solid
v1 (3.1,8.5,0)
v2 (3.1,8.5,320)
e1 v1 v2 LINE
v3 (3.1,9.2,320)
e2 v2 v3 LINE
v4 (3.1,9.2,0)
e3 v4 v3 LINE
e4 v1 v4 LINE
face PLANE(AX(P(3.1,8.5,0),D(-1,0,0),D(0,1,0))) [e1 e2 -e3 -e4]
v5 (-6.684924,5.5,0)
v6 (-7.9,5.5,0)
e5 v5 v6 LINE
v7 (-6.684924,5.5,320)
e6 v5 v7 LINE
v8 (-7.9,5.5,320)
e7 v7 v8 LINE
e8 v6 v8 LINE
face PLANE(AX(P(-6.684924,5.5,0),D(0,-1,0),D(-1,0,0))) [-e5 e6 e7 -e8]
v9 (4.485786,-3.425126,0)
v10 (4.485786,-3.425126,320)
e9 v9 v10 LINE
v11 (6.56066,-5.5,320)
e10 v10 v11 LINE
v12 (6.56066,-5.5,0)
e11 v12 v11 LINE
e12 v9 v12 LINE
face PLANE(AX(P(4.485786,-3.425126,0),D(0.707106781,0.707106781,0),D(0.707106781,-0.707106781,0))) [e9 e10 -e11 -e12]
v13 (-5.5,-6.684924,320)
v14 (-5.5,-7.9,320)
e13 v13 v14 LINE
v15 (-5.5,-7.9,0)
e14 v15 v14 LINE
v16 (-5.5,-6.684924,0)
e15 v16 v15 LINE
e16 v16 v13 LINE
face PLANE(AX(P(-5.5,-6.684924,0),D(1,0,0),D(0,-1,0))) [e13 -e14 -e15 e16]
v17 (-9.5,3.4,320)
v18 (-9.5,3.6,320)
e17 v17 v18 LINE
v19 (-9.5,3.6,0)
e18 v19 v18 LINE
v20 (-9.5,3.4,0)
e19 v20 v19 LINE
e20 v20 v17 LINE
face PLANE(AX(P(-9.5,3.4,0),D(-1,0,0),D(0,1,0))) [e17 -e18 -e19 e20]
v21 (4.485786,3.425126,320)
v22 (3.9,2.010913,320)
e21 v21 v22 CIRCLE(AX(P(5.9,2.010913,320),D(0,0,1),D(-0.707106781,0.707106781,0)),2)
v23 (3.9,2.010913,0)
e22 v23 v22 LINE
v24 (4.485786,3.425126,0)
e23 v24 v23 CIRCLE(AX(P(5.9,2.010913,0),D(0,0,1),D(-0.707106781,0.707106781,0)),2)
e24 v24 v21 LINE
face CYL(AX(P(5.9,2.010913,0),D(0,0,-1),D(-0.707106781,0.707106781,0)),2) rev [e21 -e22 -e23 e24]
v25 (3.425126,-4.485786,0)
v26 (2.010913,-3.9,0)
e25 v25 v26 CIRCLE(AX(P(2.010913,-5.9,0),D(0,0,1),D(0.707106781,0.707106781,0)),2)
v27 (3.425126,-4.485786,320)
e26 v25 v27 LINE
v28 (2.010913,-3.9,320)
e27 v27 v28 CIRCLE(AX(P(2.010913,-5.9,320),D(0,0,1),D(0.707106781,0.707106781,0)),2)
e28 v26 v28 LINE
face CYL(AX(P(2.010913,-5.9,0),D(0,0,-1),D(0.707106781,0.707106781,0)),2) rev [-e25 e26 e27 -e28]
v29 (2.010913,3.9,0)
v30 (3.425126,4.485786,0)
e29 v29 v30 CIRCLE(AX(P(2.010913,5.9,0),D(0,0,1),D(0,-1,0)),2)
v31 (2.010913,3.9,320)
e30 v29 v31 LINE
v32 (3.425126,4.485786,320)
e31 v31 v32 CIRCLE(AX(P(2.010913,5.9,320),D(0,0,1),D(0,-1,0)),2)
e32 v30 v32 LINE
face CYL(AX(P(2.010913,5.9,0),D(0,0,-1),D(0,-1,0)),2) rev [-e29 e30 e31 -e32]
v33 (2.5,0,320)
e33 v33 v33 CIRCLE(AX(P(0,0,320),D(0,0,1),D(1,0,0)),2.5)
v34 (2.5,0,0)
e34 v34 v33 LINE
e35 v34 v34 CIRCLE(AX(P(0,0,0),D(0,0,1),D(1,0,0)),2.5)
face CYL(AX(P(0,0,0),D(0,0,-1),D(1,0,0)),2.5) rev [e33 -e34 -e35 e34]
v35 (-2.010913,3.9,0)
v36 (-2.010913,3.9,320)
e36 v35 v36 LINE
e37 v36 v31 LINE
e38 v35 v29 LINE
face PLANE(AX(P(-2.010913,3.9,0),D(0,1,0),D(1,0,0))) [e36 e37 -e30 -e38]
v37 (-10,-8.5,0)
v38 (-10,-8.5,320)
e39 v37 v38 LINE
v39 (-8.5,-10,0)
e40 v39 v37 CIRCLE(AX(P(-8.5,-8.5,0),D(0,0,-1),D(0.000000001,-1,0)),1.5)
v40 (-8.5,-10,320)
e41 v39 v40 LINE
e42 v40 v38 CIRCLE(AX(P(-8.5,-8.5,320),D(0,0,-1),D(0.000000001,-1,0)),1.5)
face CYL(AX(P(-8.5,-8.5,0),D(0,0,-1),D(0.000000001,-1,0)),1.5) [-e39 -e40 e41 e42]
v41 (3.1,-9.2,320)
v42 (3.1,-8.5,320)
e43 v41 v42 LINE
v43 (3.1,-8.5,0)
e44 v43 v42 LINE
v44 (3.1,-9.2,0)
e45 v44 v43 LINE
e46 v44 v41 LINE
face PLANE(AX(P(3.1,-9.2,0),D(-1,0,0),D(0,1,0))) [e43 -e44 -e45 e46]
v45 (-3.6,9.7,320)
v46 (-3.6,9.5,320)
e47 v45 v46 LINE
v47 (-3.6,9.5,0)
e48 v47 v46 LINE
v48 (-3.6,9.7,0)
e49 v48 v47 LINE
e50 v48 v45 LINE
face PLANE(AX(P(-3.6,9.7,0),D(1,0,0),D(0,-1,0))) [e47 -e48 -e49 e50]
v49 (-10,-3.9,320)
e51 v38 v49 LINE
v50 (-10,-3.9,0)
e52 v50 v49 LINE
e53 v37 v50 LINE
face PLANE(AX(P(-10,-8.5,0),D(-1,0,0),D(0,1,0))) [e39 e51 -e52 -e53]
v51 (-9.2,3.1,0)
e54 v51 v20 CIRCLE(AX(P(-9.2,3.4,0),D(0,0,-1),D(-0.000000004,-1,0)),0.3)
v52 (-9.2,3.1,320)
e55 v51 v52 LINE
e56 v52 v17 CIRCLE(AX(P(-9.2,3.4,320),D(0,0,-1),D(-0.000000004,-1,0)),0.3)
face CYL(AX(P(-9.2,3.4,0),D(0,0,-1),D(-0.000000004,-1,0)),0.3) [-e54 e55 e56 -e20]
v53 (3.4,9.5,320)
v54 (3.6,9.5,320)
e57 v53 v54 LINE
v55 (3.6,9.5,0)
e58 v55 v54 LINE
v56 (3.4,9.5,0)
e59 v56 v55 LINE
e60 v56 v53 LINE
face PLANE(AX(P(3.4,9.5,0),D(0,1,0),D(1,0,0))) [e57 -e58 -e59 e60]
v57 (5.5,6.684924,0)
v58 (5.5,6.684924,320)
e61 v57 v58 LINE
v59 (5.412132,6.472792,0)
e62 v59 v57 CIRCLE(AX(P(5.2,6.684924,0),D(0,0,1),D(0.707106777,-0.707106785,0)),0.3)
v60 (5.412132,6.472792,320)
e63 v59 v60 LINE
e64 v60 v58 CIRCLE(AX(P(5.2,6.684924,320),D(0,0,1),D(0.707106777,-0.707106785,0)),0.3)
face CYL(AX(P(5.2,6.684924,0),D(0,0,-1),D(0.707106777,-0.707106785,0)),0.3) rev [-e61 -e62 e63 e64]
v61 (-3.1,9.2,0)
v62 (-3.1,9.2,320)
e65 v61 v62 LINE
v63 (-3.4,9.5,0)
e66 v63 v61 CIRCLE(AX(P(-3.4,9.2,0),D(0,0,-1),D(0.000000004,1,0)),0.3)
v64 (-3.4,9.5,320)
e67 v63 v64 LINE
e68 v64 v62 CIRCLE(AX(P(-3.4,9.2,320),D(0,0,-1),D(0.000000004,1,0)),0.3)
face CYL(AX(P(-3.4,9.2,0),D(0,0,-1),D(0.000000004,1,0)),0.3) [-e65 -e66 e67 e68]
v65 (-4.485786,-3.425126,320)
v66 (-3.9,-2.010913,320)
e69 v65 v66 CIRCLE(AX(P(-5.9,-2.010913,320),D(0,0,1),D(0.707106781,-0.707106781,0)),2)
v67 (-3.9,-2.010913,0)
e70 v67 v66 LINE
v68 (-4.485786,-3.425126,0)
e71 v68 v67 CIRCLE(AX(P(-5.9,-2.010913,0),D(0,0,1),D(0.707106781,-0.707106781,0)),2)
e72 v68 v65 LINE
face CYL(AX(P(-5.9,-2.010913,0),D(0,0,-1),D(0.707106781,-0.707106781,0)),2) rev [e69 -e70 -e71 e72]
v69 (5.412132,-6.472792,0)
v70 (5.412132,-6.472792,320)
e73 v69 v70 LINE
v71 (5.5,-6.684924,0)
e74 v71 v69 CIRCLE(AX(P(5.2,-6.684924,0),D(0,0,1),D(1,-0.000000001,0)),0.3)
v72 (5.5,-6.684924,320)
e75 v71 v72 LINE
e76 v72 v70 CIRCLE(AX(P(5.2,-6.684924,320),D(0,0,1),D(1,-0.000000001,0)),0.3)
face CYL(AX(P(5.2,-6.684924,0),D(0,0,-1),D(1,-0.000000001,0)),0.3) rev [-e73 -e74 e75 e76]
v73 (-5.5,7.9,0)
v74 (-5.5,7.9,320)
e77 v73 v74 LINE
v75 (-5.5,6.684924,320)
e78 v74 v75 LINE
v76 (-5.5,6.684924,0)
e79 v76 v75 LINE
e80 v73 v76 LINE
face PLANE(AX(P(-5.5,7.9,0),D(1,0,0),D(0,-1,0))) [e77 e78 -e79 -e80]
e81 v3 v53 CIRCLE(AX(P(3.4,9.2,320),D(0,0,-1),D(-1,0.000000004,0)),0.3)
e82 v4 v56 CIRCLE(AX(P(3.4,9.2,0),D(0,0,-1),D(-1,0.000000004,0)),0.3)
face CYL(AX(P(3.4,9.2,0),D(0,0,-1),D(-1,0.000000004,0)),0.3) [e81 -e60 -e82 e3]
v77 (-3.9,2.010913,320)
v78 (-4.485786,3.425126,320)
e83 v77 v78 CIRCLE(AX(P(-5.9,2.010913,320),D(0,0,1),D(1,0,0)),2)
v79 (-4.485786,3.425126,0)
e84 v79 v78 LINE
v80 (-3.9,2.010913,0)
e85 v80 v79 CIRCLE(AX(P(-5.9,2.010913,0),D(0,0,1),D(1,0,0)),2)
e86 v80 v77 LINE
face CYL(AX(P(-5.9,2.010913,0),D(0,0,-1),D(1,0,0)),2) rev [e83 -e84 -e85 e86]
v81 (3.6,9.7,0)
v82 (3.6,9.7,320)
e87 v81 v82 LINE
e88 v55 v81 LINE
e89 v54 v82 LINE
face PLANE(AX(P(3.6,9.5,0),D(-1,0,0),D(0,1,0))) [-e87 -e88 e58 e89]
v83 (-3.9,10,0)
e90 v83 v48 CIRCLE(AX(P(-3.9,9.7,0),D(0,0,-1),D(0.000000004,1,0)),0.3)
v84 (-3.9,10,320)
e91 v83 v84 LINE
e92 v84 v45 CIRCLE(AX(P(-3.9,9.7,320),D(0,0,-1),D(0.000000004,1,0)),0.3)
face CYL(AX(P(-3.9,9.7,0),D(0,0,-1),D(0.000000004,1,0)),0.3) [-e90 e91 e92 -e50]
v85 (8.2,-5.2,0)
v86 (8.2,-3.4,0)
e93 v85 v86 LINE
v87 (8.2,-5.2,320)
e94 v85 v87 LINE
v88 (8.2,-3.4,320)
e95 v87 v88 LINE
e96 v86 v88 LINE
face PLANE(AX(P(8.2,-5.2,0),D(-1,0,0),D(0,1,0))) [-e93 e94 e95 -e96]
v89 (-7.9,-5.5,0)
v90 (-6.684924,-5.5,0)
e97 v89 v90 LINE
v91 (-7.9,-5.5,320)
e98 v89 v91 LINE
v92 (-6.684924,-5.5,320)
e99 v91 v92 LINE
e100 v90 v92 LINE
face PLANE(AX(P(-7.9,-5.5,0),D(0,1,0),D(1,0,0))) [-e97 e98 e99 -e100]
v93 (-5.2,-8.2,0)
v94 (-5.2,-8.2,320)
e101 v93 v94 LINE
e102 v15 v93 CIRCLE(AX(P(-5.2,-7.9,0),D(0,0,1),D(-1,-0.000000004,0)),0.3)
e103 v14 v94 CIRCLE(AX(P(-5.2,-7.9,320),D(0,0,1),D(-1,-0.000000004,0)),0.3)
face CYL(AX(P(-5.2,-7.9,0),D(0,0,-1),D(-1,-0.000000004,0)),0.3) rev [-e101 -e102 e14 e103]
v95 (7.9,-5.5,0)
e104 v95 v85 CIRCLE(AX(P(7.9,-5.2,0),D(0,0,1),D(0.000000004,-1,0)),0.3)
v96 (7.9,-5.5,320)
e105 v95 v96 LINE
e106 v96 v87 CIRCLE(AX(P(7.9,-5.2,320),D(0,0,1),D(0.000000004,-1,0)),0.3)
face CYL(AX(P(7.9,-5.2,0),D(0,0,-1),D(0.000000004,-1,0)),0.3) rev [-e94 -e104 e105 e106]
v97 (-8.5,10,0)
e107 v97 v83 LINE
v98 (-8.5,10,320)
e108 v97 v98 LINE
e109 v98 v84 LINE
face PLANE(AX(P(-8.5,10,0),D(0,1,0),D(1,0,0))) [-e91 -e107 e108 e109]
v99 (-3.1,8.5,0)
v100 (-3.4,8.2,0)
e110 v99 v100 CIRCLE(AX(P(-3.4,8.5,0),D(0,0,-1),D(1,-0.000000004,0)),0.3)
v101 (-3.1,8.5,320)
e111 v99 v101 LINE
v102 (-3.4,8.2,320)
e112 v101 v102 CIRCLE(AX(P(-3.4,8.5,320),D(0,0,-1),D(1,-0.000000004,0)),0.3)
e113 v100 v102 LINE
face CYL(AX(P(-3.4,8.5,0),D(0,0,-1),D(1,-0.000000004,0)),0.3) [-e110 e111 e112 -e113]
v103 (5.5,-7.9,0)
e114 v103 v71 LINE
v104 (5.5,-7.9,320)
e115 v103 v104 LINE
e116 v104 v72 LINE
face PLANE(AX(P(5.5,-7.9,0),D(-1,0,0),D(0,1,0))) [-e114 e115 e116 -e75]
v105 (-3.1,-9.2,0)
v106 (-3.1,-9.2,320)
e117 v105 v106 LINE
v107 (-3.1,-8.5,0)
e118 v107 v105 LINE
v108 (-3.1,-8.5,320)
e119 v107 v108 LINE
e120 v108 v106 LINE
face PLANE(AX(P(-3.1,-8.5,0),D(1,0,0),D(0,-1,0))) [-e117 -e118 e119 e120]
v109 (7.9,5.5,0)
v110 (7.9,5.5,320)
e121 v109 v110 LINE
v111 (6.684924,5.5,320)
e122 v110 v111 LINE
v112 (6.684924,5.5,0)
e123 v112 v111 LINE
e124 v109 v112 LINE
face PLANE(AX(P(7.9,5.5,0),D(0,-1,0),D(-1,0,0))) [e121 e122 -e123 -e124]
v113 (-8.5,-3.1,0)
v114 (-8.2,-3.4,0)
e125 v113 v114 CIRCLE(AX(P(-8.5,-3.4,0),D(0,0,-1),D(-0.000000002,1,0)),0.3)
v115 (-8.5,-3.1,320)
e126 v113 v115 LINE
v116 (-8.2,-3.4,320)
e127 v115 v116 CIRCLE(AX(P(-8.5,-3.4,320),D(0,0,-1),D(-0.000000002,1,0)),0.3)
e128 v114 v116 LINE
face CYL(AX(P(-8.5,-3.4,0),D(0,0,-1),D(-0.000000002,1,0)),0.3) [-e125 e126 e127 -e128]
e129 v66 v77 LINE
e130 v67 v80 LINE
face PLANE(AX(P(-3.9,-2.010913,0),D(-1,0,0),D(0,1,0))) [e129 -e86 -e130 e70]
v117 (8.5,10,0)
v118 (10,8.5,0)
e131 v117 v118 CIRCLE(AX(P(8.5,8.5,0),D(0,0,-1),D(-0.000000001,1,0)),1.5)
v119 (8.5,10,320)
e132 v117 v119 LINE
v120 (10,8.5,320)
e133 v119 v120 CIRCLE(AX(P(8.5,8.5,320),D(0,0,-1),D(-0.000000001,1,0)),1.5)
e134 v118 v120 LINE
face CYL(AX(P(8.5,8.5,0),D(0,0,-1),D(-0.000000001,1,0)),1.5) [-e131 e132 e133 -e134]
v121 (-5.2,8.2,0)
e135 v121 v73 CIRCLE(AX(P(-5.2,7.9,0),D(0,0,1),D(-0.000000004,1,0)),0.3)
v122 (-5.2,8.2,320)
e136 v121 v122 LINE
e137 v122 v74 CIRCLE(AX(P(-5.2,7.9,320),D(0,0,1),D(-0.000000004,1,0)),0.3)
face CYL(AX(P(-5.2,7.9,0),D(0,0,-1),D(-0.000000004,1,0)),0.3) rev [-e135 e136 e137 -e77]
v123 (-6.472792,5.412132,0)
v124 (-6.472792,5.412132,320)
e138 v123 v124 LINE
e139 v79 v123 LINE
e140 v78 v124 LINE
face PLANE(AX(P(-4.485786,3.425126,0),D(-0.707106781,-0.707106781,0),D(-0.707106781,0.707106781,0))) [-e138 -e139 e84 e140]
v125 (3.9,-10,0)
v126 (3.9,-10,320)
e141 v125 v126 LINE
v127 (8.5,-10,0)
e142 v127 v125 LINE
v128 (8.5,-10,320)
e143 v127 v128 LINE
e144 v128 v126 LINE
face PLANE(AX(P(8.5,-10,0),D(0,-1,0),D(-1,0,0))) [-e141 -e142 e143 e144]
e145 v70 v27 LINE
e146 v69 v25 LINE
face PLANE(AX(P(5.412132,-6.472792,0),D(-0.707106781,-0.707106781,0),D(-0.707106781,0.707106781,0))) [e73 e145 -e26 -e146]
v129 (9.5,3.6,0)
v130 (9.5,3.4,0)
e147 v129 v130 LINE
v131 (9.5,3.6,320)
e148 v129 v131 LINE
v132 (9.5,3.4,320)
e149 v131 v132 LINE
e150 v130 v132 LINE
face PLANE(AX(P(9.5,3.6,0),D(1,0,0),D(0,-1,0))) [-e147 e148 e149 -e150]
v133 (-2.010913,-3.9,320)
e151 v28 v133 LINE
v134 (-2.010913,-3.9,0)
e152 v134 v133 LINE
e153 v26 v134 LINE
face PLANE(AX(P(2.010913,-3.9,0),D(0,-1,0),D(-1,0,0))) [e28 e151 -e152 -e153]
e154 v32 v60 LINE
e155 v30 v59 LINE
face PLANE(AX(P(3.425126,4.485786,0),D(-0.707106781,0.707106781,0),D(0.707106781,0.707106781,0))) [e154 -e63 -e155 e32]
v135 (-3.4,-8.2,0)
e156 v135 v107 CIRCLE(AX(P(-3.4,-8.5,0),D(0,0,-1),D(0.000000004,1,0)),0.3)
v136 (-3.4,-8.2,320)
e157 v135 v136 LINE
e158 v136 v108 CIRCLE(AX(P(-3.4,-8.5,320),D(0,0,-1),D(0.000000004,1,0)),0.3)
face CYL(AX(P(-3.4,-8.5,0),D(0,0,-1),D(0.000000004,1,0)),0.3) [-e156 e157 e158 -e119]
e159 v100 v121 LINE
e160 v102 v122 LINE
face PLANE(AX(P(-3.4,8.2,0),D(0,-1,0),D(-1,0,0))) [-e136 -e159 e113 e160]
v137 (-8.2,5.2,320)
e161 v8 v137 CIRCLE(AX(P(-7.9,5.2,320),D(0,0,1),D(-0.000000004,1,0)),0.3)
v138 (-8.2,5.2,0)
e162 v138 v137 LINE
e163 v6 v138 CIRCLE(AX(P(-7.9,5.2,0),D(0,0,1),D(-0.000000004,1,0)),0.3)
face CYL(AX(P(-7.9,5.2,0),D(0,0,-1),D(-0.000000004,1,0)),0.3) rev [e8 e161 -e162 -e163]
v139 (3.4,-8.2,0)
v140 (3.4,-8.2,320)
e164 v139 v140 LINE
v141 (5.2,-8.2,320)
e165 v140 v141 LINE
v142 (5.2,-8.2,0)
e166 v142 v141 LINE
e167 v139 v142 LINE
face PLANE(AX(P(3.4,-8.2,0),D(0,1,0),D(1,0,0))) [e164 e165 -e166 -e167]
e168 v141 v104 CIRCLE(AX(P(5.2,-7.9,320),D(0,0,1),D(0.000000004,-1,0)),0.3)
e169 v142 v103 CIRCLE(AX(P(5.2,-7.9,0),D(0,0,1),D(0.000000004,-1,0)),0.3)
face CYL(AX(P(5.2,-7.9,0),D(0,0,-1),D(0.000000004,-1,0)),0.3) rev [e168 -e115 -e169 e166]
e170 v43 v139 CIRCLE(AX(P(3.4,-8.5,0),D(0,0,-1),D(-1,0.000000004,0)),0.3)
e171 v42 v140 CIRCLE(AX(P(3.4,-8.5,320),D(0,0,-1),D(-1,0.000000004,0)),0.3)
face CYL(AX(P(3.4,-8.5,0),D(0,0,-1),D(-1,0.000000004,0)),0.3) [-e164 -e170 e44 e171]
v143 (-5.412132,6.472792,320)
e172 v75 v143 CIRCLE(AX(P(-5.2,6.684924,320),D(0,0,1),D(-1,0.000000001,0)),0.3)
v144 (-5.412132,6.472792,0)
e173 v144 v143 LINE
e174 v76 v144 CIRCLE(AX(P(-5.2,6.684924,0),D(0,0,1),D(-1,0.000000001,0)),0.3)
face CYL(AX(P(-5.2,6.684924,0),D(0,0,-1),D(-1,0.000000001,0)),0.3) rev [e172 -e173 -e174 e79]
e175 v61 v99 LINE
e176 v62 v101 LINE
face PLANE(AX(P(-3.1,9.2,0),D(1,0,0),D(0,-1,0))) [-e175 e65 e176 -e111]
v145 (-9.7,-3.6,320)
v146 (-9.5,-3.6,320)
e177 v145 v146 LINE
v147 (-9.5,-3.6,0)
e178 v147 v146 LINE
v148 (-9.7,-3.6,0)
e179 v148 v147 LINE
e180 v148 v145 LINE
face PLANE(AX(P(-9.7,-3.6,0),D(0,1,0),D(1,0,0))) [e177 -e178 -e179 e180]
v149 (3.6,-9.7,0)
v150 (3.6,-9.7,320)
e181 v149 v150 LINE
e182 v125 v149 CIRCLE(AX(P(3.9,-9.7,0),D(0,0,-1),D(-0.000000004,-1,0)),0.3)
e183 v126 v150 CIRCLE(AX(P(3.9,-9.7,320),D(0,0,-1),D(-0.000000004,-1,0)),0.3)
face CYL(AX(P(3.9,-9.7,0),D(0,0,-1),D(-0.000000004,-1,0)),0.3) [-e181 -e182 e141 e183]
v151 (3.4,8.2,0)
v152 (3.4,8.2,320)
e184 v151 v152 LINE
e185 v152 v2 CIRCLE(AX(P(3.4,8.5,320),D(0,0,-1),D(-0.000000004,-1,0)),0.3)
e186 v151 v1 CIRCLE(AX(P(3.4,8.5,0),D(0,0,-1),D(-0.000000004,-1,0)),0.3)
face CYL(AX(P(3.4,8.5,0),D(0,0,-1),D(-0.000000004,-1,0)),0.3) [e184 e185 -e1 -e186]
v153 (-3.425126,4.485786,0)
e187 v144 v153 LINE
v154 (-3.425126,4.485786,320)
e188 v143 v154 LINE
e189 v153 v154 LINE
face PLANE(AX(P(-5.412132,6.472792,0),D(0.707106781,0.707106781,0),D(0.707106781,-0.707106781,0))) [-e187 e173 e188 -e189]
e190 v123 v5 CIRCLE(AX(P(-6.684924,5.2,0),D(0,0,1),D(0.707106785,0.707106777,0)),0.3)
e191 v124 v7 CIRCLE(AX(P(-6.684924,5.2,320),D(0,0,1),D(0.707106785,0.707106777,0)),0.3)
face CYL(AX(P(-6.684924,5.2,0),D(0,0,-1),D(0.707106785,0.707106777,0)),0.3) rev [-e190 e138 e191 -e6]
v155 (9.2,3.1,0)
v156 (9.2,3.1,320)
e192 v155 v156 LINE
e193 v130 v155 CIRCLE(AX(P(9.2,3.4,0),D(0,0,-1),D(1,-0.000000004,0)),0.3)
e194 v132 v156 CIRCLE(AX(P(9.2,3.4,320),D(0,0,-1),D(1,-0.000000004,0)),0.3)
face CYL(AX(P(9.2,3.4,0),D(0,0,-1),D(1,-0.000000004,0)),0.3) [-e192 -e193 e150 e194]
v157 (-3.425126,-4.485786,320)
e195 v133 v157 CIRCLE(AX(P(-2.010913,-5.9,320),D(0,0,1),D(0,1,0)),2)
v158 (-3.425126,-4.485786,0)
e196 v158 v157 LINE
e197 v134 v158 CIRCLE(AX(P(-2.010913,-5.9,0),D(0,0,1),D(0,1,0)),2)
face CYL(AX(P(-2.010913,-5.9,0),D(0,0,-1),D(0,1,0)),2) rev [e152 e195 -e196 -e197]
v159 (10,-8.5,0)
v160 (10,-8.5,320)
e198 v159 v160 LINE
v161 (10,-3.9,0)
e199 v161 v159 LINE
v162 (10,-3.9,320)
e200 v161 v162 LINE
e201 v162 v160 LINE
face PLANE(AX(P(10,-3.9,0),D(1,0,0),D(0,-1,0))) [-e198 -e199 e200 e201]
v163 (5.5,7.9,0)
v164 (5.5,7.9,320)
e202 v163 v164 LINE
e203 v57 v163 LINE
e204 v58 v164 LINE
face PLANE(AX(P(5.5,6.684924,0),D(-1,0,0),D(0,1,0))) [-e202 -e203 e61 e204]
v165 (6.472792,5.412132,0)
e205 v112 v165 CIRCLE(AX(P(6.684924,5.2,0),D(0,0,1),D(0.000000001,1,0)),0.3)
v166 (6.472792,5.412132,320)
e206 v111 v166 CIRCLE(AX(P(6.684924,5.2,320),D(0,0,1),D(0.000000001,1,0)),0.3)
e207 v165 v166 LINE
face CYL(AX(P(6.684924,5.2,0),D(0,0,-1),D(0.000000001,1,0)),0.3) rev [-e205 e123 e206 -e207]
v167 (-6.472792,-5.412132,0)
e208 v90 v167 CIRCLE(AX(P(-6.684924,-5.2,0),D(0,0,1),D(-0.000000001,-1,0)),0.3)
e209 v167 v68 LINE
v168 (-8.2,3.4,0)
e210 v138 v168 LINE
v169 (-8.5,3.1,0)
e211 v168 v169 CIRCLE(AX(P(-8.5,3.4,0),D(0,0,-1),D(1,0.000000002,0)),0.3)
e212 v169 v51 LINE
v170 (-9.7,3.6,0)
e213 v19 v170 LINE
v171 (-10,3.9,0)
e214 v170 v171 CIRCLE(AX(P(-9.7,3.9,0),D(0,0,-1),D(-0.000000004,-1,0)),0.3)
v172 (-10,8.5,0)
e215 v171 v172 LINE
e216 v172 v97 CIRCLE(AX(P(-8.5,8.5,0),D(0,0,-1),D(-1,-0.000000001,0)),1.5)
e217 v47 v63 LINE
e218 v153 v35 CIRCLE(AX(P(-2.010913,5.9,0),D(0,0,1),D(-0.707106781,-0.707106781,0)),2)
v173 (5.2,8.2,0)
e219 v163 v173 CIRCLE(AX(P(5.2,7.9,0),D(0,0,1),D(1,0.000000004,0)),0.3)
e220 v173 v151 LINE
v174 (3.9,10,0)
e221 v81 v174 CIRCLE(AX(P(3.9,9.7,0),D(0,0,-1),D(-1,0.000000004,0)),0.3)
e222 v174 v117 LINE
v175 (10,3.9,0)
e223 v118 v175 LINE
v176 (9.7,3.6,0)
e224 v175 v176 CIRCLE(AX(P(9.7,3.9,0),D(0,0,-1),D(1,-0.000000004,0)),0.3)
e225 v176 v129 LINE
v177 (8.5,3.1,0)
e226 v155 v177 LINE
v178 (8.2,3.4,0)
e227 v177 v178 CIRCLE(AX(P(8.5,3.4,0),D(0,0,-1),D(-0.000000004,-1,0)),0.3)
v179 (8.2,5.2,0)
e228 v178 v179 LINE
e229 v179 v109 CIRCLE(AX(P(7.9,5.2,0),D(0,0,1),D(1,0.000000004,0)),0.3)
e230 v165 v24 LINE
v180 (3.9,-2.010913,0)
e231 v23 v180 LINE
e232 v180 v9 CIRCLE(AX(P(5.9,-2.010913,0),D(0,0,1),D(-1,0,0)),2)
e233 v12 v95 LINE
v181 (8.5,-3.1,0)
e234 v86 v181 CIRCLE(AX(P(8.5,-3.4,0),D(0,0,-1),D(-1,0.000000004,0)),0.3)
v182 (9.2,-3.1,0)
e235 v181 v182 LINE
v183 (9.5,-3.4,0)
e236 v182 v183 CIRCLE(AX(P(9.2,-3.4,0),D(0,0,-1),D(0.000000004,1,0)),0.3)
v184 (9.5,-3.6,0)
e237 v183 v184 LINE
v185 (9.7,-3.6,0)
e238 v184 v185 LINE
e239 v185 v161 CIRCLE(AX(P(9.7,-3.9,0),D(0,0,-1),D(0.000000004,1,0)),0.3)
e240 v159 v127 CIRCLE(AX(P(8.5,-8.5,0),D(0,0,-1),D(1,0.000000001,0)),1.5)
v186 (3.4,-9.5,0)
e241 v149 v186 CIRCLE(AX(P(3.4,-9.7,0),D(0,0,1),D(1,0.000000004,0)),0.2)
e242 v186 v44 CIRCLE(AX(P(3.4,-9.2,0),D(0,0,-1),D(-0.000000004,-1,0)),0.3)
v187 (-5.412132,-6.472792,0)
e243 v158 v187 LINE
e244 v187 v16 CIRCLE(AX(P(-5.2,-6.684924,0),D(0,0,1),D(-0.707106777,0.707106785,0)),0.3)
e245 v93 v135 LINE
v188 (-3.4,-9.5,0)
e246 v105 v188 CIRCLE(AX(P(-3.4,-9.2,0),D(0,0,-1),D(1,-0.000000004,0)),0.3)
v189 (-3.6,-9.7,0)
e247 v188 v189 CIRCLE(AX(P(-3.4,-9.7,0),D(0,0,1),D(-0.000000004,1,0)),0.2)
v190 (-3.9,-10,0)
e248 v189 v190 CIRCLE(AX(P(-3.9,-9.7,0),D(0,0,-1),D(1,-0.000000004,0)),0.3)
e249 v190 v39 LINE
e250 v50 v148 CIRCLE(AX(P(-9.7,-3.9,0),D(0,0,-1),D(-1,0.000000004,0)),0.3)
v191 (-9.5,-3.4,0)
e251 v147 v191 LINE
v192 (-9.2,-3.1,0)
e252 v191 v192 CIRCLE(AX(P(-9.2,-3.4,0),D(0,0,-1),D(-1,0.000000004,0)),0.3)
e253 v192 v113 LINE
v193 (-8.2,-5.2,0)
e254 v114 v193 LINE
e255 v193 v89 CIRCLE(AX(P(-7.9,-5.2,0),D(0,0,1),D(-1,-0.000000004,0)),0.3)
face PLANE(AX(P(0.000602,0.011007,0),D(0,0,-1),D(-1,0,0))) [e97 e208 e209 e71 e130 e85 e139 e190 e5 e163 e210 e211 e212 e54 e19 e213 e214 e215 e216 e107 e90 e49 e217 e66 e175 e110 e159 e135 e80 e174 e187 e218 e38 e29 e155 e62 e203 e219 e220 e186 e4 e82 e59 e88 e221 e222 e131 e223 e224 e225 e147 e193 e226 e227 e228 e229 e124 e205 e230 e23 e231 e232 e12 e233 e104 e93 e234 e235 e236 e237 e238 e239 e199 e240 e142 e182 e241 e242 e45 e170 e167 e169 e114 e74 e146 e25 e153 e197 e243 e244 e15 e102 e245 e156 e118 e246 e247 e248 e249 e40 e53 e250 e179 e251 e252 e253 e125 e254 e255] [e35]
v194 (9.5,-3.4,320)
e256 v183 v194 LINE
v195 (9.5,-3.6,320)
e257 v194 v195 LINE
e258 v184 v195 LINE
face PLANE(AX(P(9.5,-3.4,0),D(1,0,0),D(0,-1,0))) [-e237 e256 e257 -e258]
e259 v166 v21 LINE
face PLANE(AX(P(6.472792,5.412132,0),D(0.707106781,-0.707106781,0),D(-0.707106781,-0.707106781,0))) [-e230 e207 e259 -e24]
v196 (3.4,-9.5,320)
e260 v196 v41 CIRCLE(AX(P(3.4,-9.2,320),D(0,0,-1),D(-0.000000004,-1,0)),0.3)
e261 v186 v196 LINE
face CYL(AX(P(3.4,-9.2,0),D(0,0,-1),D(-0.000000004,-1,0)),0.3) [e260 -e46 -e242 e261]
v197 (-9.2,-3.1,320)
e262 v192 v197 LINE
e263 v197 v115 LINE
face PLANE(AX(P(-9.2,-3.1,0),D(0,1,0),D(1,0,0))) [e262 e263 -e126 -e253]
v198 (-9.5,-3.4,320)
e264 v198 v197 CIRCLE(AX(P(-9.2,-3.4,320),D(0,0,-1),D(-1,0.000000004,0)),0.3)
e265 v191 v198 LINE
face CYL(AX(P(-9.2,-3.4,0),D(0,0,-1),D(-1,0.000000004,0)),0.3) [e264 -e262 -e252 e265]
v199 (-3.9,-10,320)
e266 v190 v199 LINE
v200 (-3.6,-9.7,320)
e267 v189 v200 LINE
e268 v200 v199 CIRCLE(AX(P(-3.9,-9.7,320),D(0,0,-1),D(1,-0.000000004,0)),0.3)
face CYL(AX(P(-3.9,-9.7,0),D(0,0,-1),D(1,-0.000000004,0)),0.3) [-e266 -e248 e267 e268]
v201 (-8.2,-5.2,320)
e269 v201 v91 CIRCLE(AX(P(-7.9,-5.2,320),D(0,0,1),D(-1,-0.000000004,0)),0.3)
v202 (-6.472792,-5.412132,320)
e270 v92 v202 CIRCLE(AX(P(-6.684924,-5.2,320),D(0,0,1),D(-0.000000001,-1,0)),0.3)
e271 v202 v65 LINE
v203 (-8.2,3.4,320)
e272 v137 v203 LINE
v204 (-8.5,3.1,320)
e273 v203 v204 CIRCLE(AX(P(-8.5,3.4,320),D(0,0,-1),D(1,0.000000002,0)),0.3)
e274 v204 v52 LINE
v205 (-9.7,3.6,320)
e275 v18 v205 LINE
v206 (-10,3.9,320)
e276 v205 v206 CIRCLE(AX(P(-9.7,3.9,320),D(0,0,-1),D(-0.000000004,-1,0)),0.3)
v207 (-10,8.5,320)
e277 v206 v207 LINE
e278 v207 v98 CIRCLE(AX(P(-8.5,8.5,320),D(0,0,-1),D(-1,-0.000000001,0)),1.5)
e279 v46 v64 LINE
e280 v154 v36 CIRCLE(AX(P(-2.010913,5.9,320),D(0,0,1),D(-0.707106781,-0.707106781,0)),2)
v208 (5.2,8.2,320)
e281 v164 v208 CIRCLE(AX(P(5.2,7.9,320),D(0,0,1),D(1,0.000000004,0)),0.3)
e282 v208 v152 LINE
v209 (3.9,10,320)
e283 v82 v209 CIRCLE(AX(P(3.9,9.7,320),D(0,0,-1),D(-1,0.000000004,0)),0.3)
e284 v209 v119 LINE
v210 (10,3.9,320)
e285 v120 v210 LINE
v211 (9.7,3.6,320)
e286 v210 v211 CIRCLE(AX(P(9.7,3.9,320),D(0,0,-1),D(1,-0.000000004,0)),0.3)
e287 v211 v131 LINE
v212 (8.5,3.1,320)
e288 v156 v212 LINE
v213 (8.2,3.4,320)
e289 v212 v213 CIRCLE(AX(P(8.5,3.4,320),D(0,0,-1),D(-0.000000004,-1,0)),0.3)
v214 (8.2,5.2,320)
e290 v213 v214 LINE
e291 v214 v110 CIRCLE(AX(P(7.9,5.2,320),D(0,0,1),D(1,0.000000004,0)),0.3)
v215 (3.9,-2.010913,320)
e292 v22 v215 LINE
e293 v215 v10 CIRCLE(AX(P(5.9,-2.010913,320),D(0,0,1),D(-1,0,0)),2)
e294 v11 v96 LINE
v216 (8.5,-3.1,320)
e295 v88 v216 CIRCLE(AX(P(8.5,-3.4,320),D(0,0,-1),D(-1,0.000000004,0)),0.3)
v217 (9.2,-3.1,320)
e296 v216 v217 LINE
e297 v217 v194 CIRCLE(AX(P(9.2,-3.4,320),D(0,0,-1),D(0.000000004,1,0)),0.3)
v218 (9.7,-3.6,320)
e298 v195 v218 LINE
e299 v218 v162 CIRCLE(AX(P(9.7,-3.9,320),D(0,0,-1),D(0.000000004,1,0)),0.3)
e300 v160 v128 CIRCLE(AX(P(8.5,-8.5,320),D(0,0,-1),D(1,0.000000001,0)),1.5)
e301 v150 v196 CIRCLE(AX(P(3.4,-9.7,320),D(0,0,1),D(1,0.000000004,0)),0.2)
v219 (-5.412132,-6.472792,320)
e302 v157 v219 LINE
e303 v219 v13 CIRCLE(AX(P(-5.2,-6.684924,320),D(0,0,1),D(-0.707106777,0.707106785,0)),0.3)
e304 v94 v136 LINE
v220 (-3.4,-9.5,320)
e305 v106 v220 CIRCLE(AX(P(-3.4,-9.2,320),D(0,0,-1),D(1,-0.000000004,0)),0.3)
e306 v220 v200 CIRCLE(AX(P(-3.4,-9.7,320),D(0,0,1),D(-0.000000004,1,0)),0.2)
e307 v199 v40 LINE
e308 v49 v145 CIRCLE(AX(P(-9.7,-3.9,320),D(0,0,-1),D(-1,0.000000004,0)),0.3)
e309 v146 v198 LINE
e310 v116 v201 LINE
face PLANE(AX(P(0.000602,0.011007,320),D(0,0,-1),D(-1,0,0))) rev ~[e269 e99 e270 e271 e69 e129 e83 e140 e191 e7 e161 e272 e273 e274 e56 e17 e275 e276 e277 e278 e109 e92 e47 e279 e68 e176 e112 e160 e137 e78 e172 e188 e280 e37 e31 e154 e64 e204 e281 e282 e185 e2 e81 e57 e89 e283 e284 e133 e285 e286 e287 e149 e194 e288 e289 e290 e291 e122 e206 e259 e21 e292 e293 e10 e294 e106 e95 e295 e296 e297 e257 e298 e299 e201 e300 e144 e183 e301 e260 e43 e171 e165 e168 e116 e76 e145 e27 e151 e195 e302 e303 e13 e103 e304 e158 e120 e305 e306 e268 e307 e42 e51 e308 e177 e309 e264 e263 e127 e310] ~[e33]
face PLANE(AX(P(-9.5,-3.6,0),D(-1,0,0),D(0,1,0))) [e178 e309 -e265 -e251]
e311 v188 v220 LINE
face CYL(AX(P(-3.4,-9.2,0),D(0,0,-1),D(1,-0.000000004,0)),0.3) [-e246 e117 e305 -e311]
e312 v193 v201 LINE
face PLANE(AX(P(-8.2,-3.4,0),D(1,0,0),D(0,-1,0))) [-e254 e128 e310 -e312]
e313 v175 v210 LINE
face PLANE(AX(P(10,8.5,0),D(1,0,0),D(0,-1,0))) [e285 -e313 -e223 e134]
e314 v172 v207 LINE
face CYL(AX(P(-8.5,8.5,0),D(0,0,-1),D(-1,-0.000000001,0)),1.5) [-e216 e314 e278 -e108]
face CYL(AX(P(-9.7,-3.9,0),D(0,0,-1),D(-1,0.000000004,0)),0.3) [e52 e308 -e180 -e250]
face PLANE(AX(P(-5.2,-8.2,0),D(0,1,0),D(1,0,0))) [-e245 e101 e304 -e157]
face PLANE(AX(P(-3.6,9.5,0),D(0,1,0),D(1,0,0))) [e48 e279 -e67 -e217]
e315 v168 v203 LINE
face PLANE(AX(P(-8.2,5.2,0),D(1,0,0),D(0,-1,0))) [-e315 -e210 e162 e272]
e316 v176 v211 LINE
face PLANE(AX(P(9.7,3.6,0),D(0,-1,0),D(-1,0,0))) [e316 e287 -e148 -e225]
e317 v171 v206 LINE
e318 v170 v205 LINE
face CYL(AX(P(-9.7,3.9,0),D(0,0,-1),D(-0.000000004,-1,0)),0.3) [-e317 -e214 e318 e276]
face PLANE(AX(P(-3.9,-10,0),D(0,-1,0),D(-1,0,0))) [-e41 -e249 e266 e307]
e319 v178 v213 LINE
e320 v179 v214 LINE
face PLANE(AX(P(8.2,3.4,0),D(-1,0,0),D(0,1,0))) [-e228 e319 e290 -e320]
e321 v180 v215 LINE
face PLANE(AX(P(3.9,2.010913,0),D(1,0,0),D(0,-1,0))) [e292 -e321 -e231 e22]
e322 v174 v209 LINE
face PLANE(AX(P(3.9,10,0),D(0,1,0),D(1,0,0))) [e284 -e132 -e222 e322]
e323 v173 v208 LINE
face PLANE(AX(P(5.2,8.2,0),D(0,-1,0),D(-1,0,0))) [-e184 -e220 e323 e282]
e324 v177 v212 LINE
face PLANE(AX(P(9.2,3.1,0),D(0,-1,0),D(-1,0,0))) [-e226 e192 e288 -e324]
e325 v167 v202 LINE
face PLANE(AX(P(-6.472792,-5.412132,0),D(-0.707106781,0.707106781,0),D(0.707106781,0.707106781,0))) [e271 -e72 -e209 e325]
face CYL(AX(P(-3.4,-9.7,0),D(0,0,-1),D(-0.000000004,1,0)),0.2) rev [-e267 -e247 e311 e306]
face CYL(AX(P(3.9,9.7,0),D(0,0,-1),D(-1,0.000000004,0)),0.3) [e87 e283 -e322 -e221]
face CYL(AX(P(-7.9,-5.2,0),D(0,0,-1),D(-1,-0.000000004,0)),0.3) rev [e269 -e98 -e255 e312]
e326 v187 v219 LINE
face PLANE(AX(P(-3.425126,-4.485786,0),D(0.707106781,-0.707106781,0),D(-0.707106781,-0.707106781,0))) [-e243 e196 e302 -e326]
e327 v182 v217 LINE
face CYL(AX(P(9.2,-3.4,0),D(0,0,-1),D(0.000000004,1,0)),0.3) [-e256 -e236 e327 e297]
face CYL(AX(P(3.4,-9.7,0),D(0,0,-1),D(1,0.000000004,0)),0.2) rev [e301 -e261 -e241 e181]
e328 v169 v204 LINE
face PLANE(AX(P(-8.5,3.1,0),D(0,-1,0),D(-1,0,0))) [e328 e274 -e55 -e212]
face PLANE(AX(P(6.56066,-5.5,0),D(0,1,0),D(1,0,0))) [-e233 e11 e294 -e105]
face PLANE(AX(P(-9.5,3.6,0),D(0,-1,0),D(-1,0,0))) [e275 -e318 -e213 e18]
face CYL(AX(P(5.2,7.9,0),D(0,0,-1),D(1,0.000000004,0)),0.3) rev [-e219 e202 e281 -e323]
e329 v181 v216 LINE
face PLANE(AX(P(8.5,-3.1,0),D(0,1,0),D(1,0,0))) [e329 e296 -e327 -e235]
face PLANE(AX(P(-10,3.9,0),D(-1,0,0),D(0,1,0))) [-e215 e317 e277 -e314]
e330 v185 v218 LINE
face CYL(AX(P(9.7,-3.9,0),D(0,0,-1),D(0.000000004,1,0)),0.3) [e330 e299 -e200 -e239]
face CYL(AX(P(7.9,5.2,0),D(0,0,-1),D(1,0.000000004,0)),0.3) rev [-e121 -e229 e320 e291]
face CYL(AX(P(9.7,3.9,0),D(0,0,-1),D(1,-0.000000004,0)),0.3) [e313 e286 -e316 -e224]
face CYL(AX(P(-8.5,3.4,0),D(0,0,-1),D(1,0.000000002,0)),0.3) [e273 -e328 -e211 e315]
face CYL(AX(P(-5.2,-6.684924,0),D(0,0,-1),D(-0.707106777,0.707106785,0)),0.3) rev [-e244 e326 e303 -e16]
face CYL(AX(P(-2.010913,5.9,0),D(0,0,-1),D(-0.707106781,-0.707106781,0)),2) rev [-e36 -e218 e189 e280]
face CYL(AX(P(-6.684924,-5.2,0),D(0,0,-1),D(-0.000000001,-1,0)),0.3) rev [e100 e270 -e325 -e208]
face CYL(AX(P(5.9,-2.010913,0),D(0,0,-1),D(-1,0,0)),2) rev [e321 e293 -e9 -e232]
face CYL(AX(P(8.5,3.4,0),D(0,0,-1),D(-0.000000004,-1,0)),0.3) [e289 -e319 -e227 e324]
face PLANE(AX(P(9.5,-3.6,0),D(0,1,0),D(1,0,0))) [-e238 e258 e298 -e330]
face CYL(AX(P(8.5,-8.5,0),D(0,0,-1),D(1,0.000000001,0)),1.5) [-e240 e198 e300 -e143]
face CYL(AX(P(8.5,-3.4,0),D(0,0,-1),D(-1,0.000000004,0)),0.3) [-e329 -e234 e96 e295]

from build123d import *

# Parameters (mm, degrees)
SKETCH_1_R          = 2.5
BOSS_EXTRUDE1_DEPTH = 320


with BuildPart() as part:
    # 草图1 → Boss-Extrude1 (new body)
    with BuildSketch(Plane.XY):
        with BuildLine():
            Line((3.9, 0), (3.9, -2.010912703))
            ThreePointArc((3.9, -2.010912703), (4.052240935, -2.776279568), (4.485786438, -3.425126266))
            Line((4.485786438, -3.425126266), (6.560660172, -5.5))
            Line((6.560660172, -5.5), (7.9, -5.5))
            ThreePointArc((7.9, -5.5), (8.112132034, -5.412132034), (8.2, -5.2))
            Line((8.2, -5.2), (8.2, -3.4))
            ThreePointArc((8.2, -3.4), (8.287867966, -3.187867966), (8.5, -3.1))
            Line((8.5, -3.1), (9.2, -3.1))
            ThreePointArc((9.2, -3.1), (9.412132034, -3.187867966), (9.5, -3.4))
            Line((9.5, -3.4), (9.5, -3.6))
            Line((9.5, -3.6), (9.7, -3.6))
            ThreePointArc((9.7, -3.6), (9.912132034, -3.687867966), (10, -3.9))
            Line((10, -3.9), (10, -8.5))
            ThreePointArc((10, -8.5), (9.560660172, -9.560660172), (8.5, -10))
            Line((8.5, -10), (3.9, -10))
            ThreePointArc((3.9, -10), (3.687867966, -9.912132034), (3.6, -9.7))
            ThreePointArc((3.6, -9.7), (3.541421356, -9.558578644), (3.4, -9.5))
            ThreePointArc((3.4, -9.5), (3.187867966, -9.412132034), (3.1, -9.2))
            Line((3.1, -9.2), (3.1, -8.5))
            ThreePointArc((3.1, -8.5), (3.187867966, -8.287867966), (3.4, -8.2))
            Line((3.4, -8.2), (5.2, -8.2))
            ThreePointArc((5.2, -8.2), (5.412132034, -8.112132034), (5.5, -7.9))
            Line((5.5, -7.9), (5.5, -6.68492424))
            ThreePointArc((5.5, -6.68492424), (5.47716386, -6.570119211), (5.412132034, -6.472792206))
            Line((5.412132034, -6.472792206), (3.425126266, -4.485786438))
            ThreePointArc((3.425126266, -4.485786438), (2.776279568, -4.052240935), (2.010912703, -3.9))
            Line((2.010912703, -3.9), (0, -3.9))
            Line((0, -3.9), (-2.010912703, -3.9))
            ThreePointArc((-2.010912703, -3.9), (-2.776279568, -4.052240935), (-3.425126266, -4.485786438))
            Line((-3.425126266, -4.485786438), (-5.412132034, -6.472792206))
            ThreePointArc((-5.412132034, -6.472792206), (-5.47716386, -6.570119211), (-5.5, -6.68492424))
            Line((-5.5, -6.68492424), (-5.5, -7.9))
            ThreePointArc((-5.5, -7.9), (-5.412132034, -8.112132034), (-5.2, -8.2))
            Line((-5.2, -8.2), (-3.4, -8.2))
            ThreePointArc((-3.4, -8.2), (-3.187867966, -8.287867966), (-3.1, -8.5))
            Line((-3.1, -8.5), (-3.1, -9.2))
            ThreePointArc((-3.1, -9.2), (-3.187867966, -9.412132034), (-3.4, -9.5))
            ThreePointArc((-3.4, -9.5), (-3.541421356, -9.558578644), (-3.6, -9.7))
            ThreePointArc((-3.6, -9.7), (-3.687867966, -9.912132034), (-3.9, -10))
            Line((-3.9, -10), (-8.5, -10))
            ThreePointArc((-8.5, -10), (-9.560660172, -9.560660172), (-10, -8.5))
            Line((-10, -8.5), (-10, -3.9))
            ThreePointArc((-10, -3.9), (-9.912132034, -3.687867966), (-9.7, -3.6))
            Line((-9.7, -3.6), (-9.5, -3.6))
            Line((-9.5, -3.6), (-9.5, -3.4))
            ThreePointArc((-9.5, -3.4), (-9.412132034, -3.187867966), (-9.2, -3.1))
            Line((-9.2, -3.1), (-8.5, -3.1))
            ThreePointArc((-8.5, -3.1), (-8.287867965, -3.187867966), (-8.2, -3.4))
            Line((-8.2, -3.4), (-8.2, -5.2))
            ThreePointArc((-8.2, -5.2), (-8.112132034, -5.412132034), (-7.9, -5.5))
            Line((-7.9, -5.5), (-6.68492424, -5.5))
            ThreePointArc((-6.68492424, -5.5), (-6.570119211, -5.47716386), (-6.472792206, -5.412132034))
            Line((-6.472792206, -5.412132034), (-4.485786438, -3.425126266))
            ThreePointArc((-4.485786438, -3.425126266), (-4.052240935, -2.776279568), (-3.9, -2.010912703))
            Line((-3.9, -2.010912703), (-3.9, 0))
            Line((-3.9, 0), (-3.9, 2.010912703))
            ThreePointArc((-3.9, 2.010912703), (-4.052240935, 2.776279568), (-4.485786438, 3.425126266))
            Line((-4.485786438, 3.425126266), (-6.472792206, 5.412132034))
            ThreePointArc((-6.472792206, 5.412132034), (-6.570119211, 5.47716386), (-6.68492424, 5.5))
            Line((-6.68492424, 5.5), (-7.9, 5.5))
            ThreePointArc((-7.9, 5.5), (-8.112132034, 5.412132034), (-8.2, 5.2))
            Line((-8.2, 5.2), (-8.2, 3.4))
            ThreePointArc((-8.2, 3.4), (-8.287867965, 3.187867966), (-8.5, 3.1))
            Line((-8.5, 3.1), (-9.2, 3.1))
            ThreePointArc((-9.2, 3.1), (-9.412132034, 3.187867966), (-9.5, 3.4))
            Line((-9.5, 3.4), (-9.5, 3.6))
            Line((-9.5, 3.6), (-9.7, 3.6))
            ThreePointArc((-9.7, 3.6), (-9.912132034, 3.687867966), (-10, 3.9))
            Line((-10, 3.9), (-10, 8.5))
            ThreePointArc((-10, 8.5), (-9.560660172, 9.560660172), (-8.5, 10))
            Line((-8.5, 10), (-3.9, 10))
            ThreePointArc((-3.9, 10), (-3.687867966, 9.912132034), (-3.6, 9.7))
            Line((-3.6, 9.7), (-3.6, 9.5))
            Line((-3.6, 9.5), (-3.4, 9.5))
            ThreePointArc((-3.4, 9.5), (-3.187867966, 9.412132034), (-3.1, 9.2))
            Line((-3.1, 9.2), (-3.1, 8.5))
            ThreePointArc((-3.1, 8.5), (-3.187867966, 8.287867966), (-3.4, 8.2))
            Line((-3.4, 8.2), (-5.2, 8.2))
            ThreePointArc((-5.2, 8.2), (-5.412132034, 8.112132034), (-5.5, 7.9))
            Line((-5.5, 7.9), (-5.5, 6.68492424))
            ThreePointArc((-5.5, 6.68492424), (-5.47716386, 6.570119211), (-5.412132034, 6.472792206))
            Line((-5.412132034, 6.472792206), (-3.425126266, 4.485786438))
            ThreePointArc((-3.425126266, 4.485786438), (-2.776279568, 4.052240935), (-2.010912703, 3.9))
            Line((-2.010912703, 3.9), (0, 3.9))
            Line((0, 3.9), (2.010912703, 3.9))
            ThreePointArc((2.010912703, 3.9), (2.776279568, 4.052240935), (3.425126266, 4.485786438))
            Line((3.425126266, 4.485786438), (5.412132034, 6.472792206))
            ThreePointArc((5.412132034, 6.472792206), (5.47716386, 6.570119211), (5.5, 6.68492424))
            Line((5.5, 6.68492424), (5.5, 7.9))
            ThreePointArc((5.5, 7.9), (5.412132034, 8.112132034), (5.2, 8.2))
            Line((5.2, 8.2), (3.4, 8.2))
            ThreePointArc((3.4, 8.2), (3.187867966, 8.287867966), (3.1, 8.5))
            Line((3.1, 8.5), (3.1, 9.2))
            ThreePointArc((3.1, 9.2), (3.187867966, 9.412132034), (3.4, 9.5))
            Line((3.4, 9.5), (3.6, 9.5))
            Line((3.6, 9.5), (3.6, 9.7))
            ThreePointArc((3.6, 9.7), (3.687867966, 9.912132034), (3.9, 10))
            Line((3.9, 10), (8.5, 10))
            ThreePointArc((8.5, 10), (9.560660172, 9.560660172), (10, 8.5))
            Line((10, 8.5), (10, 3.9))
            ThreePointArc((10, 3.9), (9.912132034, 3.687867966), (9.7, 3.6))
            Line((9.7, 3.6), (9.5, 3.6))
            Line((9.5, 3.6), (9.5, 3.4))
            ThreePointArc((9.5, 3.4), (9.412132034, 3.187867966), (9.2, 3.1))
            Line((9.2, 3.1), (8.5, 3.1))
            ThreePointArc((8.5, 3.1), (8.287867966, 3.187867966), (8.2, 3.4))
            Line((8.2, 3.4), (8.2, 5.2))
            ThreePointArc((8.2, 5.2), (8.112132034, 5.412132034), (7.9, 5.5))
            Line((7.9, 5.5), (6.68492424, 5.5))
            ThreePointArc((6.68492424, 5.5), (6.570119211, 5.47716386), (6.472792206, 5.412132034))
            Line((6.472792206, 5.412132034), (4.485786438, 3.425126266))
            ThreePointArc((4.485786438, 3.425126266), (4.052240935, 2.776279568), (3.9, 2.010912703))
            Line((3.9, 2.010912703), (3.9, 0))
        make_face()
        Circle(SKETCH_1_R, mode=Mode.SUBTRACT)
    extrude(amount=BOSS_EXTRUDE1_DEPTH)


solid = part.part
